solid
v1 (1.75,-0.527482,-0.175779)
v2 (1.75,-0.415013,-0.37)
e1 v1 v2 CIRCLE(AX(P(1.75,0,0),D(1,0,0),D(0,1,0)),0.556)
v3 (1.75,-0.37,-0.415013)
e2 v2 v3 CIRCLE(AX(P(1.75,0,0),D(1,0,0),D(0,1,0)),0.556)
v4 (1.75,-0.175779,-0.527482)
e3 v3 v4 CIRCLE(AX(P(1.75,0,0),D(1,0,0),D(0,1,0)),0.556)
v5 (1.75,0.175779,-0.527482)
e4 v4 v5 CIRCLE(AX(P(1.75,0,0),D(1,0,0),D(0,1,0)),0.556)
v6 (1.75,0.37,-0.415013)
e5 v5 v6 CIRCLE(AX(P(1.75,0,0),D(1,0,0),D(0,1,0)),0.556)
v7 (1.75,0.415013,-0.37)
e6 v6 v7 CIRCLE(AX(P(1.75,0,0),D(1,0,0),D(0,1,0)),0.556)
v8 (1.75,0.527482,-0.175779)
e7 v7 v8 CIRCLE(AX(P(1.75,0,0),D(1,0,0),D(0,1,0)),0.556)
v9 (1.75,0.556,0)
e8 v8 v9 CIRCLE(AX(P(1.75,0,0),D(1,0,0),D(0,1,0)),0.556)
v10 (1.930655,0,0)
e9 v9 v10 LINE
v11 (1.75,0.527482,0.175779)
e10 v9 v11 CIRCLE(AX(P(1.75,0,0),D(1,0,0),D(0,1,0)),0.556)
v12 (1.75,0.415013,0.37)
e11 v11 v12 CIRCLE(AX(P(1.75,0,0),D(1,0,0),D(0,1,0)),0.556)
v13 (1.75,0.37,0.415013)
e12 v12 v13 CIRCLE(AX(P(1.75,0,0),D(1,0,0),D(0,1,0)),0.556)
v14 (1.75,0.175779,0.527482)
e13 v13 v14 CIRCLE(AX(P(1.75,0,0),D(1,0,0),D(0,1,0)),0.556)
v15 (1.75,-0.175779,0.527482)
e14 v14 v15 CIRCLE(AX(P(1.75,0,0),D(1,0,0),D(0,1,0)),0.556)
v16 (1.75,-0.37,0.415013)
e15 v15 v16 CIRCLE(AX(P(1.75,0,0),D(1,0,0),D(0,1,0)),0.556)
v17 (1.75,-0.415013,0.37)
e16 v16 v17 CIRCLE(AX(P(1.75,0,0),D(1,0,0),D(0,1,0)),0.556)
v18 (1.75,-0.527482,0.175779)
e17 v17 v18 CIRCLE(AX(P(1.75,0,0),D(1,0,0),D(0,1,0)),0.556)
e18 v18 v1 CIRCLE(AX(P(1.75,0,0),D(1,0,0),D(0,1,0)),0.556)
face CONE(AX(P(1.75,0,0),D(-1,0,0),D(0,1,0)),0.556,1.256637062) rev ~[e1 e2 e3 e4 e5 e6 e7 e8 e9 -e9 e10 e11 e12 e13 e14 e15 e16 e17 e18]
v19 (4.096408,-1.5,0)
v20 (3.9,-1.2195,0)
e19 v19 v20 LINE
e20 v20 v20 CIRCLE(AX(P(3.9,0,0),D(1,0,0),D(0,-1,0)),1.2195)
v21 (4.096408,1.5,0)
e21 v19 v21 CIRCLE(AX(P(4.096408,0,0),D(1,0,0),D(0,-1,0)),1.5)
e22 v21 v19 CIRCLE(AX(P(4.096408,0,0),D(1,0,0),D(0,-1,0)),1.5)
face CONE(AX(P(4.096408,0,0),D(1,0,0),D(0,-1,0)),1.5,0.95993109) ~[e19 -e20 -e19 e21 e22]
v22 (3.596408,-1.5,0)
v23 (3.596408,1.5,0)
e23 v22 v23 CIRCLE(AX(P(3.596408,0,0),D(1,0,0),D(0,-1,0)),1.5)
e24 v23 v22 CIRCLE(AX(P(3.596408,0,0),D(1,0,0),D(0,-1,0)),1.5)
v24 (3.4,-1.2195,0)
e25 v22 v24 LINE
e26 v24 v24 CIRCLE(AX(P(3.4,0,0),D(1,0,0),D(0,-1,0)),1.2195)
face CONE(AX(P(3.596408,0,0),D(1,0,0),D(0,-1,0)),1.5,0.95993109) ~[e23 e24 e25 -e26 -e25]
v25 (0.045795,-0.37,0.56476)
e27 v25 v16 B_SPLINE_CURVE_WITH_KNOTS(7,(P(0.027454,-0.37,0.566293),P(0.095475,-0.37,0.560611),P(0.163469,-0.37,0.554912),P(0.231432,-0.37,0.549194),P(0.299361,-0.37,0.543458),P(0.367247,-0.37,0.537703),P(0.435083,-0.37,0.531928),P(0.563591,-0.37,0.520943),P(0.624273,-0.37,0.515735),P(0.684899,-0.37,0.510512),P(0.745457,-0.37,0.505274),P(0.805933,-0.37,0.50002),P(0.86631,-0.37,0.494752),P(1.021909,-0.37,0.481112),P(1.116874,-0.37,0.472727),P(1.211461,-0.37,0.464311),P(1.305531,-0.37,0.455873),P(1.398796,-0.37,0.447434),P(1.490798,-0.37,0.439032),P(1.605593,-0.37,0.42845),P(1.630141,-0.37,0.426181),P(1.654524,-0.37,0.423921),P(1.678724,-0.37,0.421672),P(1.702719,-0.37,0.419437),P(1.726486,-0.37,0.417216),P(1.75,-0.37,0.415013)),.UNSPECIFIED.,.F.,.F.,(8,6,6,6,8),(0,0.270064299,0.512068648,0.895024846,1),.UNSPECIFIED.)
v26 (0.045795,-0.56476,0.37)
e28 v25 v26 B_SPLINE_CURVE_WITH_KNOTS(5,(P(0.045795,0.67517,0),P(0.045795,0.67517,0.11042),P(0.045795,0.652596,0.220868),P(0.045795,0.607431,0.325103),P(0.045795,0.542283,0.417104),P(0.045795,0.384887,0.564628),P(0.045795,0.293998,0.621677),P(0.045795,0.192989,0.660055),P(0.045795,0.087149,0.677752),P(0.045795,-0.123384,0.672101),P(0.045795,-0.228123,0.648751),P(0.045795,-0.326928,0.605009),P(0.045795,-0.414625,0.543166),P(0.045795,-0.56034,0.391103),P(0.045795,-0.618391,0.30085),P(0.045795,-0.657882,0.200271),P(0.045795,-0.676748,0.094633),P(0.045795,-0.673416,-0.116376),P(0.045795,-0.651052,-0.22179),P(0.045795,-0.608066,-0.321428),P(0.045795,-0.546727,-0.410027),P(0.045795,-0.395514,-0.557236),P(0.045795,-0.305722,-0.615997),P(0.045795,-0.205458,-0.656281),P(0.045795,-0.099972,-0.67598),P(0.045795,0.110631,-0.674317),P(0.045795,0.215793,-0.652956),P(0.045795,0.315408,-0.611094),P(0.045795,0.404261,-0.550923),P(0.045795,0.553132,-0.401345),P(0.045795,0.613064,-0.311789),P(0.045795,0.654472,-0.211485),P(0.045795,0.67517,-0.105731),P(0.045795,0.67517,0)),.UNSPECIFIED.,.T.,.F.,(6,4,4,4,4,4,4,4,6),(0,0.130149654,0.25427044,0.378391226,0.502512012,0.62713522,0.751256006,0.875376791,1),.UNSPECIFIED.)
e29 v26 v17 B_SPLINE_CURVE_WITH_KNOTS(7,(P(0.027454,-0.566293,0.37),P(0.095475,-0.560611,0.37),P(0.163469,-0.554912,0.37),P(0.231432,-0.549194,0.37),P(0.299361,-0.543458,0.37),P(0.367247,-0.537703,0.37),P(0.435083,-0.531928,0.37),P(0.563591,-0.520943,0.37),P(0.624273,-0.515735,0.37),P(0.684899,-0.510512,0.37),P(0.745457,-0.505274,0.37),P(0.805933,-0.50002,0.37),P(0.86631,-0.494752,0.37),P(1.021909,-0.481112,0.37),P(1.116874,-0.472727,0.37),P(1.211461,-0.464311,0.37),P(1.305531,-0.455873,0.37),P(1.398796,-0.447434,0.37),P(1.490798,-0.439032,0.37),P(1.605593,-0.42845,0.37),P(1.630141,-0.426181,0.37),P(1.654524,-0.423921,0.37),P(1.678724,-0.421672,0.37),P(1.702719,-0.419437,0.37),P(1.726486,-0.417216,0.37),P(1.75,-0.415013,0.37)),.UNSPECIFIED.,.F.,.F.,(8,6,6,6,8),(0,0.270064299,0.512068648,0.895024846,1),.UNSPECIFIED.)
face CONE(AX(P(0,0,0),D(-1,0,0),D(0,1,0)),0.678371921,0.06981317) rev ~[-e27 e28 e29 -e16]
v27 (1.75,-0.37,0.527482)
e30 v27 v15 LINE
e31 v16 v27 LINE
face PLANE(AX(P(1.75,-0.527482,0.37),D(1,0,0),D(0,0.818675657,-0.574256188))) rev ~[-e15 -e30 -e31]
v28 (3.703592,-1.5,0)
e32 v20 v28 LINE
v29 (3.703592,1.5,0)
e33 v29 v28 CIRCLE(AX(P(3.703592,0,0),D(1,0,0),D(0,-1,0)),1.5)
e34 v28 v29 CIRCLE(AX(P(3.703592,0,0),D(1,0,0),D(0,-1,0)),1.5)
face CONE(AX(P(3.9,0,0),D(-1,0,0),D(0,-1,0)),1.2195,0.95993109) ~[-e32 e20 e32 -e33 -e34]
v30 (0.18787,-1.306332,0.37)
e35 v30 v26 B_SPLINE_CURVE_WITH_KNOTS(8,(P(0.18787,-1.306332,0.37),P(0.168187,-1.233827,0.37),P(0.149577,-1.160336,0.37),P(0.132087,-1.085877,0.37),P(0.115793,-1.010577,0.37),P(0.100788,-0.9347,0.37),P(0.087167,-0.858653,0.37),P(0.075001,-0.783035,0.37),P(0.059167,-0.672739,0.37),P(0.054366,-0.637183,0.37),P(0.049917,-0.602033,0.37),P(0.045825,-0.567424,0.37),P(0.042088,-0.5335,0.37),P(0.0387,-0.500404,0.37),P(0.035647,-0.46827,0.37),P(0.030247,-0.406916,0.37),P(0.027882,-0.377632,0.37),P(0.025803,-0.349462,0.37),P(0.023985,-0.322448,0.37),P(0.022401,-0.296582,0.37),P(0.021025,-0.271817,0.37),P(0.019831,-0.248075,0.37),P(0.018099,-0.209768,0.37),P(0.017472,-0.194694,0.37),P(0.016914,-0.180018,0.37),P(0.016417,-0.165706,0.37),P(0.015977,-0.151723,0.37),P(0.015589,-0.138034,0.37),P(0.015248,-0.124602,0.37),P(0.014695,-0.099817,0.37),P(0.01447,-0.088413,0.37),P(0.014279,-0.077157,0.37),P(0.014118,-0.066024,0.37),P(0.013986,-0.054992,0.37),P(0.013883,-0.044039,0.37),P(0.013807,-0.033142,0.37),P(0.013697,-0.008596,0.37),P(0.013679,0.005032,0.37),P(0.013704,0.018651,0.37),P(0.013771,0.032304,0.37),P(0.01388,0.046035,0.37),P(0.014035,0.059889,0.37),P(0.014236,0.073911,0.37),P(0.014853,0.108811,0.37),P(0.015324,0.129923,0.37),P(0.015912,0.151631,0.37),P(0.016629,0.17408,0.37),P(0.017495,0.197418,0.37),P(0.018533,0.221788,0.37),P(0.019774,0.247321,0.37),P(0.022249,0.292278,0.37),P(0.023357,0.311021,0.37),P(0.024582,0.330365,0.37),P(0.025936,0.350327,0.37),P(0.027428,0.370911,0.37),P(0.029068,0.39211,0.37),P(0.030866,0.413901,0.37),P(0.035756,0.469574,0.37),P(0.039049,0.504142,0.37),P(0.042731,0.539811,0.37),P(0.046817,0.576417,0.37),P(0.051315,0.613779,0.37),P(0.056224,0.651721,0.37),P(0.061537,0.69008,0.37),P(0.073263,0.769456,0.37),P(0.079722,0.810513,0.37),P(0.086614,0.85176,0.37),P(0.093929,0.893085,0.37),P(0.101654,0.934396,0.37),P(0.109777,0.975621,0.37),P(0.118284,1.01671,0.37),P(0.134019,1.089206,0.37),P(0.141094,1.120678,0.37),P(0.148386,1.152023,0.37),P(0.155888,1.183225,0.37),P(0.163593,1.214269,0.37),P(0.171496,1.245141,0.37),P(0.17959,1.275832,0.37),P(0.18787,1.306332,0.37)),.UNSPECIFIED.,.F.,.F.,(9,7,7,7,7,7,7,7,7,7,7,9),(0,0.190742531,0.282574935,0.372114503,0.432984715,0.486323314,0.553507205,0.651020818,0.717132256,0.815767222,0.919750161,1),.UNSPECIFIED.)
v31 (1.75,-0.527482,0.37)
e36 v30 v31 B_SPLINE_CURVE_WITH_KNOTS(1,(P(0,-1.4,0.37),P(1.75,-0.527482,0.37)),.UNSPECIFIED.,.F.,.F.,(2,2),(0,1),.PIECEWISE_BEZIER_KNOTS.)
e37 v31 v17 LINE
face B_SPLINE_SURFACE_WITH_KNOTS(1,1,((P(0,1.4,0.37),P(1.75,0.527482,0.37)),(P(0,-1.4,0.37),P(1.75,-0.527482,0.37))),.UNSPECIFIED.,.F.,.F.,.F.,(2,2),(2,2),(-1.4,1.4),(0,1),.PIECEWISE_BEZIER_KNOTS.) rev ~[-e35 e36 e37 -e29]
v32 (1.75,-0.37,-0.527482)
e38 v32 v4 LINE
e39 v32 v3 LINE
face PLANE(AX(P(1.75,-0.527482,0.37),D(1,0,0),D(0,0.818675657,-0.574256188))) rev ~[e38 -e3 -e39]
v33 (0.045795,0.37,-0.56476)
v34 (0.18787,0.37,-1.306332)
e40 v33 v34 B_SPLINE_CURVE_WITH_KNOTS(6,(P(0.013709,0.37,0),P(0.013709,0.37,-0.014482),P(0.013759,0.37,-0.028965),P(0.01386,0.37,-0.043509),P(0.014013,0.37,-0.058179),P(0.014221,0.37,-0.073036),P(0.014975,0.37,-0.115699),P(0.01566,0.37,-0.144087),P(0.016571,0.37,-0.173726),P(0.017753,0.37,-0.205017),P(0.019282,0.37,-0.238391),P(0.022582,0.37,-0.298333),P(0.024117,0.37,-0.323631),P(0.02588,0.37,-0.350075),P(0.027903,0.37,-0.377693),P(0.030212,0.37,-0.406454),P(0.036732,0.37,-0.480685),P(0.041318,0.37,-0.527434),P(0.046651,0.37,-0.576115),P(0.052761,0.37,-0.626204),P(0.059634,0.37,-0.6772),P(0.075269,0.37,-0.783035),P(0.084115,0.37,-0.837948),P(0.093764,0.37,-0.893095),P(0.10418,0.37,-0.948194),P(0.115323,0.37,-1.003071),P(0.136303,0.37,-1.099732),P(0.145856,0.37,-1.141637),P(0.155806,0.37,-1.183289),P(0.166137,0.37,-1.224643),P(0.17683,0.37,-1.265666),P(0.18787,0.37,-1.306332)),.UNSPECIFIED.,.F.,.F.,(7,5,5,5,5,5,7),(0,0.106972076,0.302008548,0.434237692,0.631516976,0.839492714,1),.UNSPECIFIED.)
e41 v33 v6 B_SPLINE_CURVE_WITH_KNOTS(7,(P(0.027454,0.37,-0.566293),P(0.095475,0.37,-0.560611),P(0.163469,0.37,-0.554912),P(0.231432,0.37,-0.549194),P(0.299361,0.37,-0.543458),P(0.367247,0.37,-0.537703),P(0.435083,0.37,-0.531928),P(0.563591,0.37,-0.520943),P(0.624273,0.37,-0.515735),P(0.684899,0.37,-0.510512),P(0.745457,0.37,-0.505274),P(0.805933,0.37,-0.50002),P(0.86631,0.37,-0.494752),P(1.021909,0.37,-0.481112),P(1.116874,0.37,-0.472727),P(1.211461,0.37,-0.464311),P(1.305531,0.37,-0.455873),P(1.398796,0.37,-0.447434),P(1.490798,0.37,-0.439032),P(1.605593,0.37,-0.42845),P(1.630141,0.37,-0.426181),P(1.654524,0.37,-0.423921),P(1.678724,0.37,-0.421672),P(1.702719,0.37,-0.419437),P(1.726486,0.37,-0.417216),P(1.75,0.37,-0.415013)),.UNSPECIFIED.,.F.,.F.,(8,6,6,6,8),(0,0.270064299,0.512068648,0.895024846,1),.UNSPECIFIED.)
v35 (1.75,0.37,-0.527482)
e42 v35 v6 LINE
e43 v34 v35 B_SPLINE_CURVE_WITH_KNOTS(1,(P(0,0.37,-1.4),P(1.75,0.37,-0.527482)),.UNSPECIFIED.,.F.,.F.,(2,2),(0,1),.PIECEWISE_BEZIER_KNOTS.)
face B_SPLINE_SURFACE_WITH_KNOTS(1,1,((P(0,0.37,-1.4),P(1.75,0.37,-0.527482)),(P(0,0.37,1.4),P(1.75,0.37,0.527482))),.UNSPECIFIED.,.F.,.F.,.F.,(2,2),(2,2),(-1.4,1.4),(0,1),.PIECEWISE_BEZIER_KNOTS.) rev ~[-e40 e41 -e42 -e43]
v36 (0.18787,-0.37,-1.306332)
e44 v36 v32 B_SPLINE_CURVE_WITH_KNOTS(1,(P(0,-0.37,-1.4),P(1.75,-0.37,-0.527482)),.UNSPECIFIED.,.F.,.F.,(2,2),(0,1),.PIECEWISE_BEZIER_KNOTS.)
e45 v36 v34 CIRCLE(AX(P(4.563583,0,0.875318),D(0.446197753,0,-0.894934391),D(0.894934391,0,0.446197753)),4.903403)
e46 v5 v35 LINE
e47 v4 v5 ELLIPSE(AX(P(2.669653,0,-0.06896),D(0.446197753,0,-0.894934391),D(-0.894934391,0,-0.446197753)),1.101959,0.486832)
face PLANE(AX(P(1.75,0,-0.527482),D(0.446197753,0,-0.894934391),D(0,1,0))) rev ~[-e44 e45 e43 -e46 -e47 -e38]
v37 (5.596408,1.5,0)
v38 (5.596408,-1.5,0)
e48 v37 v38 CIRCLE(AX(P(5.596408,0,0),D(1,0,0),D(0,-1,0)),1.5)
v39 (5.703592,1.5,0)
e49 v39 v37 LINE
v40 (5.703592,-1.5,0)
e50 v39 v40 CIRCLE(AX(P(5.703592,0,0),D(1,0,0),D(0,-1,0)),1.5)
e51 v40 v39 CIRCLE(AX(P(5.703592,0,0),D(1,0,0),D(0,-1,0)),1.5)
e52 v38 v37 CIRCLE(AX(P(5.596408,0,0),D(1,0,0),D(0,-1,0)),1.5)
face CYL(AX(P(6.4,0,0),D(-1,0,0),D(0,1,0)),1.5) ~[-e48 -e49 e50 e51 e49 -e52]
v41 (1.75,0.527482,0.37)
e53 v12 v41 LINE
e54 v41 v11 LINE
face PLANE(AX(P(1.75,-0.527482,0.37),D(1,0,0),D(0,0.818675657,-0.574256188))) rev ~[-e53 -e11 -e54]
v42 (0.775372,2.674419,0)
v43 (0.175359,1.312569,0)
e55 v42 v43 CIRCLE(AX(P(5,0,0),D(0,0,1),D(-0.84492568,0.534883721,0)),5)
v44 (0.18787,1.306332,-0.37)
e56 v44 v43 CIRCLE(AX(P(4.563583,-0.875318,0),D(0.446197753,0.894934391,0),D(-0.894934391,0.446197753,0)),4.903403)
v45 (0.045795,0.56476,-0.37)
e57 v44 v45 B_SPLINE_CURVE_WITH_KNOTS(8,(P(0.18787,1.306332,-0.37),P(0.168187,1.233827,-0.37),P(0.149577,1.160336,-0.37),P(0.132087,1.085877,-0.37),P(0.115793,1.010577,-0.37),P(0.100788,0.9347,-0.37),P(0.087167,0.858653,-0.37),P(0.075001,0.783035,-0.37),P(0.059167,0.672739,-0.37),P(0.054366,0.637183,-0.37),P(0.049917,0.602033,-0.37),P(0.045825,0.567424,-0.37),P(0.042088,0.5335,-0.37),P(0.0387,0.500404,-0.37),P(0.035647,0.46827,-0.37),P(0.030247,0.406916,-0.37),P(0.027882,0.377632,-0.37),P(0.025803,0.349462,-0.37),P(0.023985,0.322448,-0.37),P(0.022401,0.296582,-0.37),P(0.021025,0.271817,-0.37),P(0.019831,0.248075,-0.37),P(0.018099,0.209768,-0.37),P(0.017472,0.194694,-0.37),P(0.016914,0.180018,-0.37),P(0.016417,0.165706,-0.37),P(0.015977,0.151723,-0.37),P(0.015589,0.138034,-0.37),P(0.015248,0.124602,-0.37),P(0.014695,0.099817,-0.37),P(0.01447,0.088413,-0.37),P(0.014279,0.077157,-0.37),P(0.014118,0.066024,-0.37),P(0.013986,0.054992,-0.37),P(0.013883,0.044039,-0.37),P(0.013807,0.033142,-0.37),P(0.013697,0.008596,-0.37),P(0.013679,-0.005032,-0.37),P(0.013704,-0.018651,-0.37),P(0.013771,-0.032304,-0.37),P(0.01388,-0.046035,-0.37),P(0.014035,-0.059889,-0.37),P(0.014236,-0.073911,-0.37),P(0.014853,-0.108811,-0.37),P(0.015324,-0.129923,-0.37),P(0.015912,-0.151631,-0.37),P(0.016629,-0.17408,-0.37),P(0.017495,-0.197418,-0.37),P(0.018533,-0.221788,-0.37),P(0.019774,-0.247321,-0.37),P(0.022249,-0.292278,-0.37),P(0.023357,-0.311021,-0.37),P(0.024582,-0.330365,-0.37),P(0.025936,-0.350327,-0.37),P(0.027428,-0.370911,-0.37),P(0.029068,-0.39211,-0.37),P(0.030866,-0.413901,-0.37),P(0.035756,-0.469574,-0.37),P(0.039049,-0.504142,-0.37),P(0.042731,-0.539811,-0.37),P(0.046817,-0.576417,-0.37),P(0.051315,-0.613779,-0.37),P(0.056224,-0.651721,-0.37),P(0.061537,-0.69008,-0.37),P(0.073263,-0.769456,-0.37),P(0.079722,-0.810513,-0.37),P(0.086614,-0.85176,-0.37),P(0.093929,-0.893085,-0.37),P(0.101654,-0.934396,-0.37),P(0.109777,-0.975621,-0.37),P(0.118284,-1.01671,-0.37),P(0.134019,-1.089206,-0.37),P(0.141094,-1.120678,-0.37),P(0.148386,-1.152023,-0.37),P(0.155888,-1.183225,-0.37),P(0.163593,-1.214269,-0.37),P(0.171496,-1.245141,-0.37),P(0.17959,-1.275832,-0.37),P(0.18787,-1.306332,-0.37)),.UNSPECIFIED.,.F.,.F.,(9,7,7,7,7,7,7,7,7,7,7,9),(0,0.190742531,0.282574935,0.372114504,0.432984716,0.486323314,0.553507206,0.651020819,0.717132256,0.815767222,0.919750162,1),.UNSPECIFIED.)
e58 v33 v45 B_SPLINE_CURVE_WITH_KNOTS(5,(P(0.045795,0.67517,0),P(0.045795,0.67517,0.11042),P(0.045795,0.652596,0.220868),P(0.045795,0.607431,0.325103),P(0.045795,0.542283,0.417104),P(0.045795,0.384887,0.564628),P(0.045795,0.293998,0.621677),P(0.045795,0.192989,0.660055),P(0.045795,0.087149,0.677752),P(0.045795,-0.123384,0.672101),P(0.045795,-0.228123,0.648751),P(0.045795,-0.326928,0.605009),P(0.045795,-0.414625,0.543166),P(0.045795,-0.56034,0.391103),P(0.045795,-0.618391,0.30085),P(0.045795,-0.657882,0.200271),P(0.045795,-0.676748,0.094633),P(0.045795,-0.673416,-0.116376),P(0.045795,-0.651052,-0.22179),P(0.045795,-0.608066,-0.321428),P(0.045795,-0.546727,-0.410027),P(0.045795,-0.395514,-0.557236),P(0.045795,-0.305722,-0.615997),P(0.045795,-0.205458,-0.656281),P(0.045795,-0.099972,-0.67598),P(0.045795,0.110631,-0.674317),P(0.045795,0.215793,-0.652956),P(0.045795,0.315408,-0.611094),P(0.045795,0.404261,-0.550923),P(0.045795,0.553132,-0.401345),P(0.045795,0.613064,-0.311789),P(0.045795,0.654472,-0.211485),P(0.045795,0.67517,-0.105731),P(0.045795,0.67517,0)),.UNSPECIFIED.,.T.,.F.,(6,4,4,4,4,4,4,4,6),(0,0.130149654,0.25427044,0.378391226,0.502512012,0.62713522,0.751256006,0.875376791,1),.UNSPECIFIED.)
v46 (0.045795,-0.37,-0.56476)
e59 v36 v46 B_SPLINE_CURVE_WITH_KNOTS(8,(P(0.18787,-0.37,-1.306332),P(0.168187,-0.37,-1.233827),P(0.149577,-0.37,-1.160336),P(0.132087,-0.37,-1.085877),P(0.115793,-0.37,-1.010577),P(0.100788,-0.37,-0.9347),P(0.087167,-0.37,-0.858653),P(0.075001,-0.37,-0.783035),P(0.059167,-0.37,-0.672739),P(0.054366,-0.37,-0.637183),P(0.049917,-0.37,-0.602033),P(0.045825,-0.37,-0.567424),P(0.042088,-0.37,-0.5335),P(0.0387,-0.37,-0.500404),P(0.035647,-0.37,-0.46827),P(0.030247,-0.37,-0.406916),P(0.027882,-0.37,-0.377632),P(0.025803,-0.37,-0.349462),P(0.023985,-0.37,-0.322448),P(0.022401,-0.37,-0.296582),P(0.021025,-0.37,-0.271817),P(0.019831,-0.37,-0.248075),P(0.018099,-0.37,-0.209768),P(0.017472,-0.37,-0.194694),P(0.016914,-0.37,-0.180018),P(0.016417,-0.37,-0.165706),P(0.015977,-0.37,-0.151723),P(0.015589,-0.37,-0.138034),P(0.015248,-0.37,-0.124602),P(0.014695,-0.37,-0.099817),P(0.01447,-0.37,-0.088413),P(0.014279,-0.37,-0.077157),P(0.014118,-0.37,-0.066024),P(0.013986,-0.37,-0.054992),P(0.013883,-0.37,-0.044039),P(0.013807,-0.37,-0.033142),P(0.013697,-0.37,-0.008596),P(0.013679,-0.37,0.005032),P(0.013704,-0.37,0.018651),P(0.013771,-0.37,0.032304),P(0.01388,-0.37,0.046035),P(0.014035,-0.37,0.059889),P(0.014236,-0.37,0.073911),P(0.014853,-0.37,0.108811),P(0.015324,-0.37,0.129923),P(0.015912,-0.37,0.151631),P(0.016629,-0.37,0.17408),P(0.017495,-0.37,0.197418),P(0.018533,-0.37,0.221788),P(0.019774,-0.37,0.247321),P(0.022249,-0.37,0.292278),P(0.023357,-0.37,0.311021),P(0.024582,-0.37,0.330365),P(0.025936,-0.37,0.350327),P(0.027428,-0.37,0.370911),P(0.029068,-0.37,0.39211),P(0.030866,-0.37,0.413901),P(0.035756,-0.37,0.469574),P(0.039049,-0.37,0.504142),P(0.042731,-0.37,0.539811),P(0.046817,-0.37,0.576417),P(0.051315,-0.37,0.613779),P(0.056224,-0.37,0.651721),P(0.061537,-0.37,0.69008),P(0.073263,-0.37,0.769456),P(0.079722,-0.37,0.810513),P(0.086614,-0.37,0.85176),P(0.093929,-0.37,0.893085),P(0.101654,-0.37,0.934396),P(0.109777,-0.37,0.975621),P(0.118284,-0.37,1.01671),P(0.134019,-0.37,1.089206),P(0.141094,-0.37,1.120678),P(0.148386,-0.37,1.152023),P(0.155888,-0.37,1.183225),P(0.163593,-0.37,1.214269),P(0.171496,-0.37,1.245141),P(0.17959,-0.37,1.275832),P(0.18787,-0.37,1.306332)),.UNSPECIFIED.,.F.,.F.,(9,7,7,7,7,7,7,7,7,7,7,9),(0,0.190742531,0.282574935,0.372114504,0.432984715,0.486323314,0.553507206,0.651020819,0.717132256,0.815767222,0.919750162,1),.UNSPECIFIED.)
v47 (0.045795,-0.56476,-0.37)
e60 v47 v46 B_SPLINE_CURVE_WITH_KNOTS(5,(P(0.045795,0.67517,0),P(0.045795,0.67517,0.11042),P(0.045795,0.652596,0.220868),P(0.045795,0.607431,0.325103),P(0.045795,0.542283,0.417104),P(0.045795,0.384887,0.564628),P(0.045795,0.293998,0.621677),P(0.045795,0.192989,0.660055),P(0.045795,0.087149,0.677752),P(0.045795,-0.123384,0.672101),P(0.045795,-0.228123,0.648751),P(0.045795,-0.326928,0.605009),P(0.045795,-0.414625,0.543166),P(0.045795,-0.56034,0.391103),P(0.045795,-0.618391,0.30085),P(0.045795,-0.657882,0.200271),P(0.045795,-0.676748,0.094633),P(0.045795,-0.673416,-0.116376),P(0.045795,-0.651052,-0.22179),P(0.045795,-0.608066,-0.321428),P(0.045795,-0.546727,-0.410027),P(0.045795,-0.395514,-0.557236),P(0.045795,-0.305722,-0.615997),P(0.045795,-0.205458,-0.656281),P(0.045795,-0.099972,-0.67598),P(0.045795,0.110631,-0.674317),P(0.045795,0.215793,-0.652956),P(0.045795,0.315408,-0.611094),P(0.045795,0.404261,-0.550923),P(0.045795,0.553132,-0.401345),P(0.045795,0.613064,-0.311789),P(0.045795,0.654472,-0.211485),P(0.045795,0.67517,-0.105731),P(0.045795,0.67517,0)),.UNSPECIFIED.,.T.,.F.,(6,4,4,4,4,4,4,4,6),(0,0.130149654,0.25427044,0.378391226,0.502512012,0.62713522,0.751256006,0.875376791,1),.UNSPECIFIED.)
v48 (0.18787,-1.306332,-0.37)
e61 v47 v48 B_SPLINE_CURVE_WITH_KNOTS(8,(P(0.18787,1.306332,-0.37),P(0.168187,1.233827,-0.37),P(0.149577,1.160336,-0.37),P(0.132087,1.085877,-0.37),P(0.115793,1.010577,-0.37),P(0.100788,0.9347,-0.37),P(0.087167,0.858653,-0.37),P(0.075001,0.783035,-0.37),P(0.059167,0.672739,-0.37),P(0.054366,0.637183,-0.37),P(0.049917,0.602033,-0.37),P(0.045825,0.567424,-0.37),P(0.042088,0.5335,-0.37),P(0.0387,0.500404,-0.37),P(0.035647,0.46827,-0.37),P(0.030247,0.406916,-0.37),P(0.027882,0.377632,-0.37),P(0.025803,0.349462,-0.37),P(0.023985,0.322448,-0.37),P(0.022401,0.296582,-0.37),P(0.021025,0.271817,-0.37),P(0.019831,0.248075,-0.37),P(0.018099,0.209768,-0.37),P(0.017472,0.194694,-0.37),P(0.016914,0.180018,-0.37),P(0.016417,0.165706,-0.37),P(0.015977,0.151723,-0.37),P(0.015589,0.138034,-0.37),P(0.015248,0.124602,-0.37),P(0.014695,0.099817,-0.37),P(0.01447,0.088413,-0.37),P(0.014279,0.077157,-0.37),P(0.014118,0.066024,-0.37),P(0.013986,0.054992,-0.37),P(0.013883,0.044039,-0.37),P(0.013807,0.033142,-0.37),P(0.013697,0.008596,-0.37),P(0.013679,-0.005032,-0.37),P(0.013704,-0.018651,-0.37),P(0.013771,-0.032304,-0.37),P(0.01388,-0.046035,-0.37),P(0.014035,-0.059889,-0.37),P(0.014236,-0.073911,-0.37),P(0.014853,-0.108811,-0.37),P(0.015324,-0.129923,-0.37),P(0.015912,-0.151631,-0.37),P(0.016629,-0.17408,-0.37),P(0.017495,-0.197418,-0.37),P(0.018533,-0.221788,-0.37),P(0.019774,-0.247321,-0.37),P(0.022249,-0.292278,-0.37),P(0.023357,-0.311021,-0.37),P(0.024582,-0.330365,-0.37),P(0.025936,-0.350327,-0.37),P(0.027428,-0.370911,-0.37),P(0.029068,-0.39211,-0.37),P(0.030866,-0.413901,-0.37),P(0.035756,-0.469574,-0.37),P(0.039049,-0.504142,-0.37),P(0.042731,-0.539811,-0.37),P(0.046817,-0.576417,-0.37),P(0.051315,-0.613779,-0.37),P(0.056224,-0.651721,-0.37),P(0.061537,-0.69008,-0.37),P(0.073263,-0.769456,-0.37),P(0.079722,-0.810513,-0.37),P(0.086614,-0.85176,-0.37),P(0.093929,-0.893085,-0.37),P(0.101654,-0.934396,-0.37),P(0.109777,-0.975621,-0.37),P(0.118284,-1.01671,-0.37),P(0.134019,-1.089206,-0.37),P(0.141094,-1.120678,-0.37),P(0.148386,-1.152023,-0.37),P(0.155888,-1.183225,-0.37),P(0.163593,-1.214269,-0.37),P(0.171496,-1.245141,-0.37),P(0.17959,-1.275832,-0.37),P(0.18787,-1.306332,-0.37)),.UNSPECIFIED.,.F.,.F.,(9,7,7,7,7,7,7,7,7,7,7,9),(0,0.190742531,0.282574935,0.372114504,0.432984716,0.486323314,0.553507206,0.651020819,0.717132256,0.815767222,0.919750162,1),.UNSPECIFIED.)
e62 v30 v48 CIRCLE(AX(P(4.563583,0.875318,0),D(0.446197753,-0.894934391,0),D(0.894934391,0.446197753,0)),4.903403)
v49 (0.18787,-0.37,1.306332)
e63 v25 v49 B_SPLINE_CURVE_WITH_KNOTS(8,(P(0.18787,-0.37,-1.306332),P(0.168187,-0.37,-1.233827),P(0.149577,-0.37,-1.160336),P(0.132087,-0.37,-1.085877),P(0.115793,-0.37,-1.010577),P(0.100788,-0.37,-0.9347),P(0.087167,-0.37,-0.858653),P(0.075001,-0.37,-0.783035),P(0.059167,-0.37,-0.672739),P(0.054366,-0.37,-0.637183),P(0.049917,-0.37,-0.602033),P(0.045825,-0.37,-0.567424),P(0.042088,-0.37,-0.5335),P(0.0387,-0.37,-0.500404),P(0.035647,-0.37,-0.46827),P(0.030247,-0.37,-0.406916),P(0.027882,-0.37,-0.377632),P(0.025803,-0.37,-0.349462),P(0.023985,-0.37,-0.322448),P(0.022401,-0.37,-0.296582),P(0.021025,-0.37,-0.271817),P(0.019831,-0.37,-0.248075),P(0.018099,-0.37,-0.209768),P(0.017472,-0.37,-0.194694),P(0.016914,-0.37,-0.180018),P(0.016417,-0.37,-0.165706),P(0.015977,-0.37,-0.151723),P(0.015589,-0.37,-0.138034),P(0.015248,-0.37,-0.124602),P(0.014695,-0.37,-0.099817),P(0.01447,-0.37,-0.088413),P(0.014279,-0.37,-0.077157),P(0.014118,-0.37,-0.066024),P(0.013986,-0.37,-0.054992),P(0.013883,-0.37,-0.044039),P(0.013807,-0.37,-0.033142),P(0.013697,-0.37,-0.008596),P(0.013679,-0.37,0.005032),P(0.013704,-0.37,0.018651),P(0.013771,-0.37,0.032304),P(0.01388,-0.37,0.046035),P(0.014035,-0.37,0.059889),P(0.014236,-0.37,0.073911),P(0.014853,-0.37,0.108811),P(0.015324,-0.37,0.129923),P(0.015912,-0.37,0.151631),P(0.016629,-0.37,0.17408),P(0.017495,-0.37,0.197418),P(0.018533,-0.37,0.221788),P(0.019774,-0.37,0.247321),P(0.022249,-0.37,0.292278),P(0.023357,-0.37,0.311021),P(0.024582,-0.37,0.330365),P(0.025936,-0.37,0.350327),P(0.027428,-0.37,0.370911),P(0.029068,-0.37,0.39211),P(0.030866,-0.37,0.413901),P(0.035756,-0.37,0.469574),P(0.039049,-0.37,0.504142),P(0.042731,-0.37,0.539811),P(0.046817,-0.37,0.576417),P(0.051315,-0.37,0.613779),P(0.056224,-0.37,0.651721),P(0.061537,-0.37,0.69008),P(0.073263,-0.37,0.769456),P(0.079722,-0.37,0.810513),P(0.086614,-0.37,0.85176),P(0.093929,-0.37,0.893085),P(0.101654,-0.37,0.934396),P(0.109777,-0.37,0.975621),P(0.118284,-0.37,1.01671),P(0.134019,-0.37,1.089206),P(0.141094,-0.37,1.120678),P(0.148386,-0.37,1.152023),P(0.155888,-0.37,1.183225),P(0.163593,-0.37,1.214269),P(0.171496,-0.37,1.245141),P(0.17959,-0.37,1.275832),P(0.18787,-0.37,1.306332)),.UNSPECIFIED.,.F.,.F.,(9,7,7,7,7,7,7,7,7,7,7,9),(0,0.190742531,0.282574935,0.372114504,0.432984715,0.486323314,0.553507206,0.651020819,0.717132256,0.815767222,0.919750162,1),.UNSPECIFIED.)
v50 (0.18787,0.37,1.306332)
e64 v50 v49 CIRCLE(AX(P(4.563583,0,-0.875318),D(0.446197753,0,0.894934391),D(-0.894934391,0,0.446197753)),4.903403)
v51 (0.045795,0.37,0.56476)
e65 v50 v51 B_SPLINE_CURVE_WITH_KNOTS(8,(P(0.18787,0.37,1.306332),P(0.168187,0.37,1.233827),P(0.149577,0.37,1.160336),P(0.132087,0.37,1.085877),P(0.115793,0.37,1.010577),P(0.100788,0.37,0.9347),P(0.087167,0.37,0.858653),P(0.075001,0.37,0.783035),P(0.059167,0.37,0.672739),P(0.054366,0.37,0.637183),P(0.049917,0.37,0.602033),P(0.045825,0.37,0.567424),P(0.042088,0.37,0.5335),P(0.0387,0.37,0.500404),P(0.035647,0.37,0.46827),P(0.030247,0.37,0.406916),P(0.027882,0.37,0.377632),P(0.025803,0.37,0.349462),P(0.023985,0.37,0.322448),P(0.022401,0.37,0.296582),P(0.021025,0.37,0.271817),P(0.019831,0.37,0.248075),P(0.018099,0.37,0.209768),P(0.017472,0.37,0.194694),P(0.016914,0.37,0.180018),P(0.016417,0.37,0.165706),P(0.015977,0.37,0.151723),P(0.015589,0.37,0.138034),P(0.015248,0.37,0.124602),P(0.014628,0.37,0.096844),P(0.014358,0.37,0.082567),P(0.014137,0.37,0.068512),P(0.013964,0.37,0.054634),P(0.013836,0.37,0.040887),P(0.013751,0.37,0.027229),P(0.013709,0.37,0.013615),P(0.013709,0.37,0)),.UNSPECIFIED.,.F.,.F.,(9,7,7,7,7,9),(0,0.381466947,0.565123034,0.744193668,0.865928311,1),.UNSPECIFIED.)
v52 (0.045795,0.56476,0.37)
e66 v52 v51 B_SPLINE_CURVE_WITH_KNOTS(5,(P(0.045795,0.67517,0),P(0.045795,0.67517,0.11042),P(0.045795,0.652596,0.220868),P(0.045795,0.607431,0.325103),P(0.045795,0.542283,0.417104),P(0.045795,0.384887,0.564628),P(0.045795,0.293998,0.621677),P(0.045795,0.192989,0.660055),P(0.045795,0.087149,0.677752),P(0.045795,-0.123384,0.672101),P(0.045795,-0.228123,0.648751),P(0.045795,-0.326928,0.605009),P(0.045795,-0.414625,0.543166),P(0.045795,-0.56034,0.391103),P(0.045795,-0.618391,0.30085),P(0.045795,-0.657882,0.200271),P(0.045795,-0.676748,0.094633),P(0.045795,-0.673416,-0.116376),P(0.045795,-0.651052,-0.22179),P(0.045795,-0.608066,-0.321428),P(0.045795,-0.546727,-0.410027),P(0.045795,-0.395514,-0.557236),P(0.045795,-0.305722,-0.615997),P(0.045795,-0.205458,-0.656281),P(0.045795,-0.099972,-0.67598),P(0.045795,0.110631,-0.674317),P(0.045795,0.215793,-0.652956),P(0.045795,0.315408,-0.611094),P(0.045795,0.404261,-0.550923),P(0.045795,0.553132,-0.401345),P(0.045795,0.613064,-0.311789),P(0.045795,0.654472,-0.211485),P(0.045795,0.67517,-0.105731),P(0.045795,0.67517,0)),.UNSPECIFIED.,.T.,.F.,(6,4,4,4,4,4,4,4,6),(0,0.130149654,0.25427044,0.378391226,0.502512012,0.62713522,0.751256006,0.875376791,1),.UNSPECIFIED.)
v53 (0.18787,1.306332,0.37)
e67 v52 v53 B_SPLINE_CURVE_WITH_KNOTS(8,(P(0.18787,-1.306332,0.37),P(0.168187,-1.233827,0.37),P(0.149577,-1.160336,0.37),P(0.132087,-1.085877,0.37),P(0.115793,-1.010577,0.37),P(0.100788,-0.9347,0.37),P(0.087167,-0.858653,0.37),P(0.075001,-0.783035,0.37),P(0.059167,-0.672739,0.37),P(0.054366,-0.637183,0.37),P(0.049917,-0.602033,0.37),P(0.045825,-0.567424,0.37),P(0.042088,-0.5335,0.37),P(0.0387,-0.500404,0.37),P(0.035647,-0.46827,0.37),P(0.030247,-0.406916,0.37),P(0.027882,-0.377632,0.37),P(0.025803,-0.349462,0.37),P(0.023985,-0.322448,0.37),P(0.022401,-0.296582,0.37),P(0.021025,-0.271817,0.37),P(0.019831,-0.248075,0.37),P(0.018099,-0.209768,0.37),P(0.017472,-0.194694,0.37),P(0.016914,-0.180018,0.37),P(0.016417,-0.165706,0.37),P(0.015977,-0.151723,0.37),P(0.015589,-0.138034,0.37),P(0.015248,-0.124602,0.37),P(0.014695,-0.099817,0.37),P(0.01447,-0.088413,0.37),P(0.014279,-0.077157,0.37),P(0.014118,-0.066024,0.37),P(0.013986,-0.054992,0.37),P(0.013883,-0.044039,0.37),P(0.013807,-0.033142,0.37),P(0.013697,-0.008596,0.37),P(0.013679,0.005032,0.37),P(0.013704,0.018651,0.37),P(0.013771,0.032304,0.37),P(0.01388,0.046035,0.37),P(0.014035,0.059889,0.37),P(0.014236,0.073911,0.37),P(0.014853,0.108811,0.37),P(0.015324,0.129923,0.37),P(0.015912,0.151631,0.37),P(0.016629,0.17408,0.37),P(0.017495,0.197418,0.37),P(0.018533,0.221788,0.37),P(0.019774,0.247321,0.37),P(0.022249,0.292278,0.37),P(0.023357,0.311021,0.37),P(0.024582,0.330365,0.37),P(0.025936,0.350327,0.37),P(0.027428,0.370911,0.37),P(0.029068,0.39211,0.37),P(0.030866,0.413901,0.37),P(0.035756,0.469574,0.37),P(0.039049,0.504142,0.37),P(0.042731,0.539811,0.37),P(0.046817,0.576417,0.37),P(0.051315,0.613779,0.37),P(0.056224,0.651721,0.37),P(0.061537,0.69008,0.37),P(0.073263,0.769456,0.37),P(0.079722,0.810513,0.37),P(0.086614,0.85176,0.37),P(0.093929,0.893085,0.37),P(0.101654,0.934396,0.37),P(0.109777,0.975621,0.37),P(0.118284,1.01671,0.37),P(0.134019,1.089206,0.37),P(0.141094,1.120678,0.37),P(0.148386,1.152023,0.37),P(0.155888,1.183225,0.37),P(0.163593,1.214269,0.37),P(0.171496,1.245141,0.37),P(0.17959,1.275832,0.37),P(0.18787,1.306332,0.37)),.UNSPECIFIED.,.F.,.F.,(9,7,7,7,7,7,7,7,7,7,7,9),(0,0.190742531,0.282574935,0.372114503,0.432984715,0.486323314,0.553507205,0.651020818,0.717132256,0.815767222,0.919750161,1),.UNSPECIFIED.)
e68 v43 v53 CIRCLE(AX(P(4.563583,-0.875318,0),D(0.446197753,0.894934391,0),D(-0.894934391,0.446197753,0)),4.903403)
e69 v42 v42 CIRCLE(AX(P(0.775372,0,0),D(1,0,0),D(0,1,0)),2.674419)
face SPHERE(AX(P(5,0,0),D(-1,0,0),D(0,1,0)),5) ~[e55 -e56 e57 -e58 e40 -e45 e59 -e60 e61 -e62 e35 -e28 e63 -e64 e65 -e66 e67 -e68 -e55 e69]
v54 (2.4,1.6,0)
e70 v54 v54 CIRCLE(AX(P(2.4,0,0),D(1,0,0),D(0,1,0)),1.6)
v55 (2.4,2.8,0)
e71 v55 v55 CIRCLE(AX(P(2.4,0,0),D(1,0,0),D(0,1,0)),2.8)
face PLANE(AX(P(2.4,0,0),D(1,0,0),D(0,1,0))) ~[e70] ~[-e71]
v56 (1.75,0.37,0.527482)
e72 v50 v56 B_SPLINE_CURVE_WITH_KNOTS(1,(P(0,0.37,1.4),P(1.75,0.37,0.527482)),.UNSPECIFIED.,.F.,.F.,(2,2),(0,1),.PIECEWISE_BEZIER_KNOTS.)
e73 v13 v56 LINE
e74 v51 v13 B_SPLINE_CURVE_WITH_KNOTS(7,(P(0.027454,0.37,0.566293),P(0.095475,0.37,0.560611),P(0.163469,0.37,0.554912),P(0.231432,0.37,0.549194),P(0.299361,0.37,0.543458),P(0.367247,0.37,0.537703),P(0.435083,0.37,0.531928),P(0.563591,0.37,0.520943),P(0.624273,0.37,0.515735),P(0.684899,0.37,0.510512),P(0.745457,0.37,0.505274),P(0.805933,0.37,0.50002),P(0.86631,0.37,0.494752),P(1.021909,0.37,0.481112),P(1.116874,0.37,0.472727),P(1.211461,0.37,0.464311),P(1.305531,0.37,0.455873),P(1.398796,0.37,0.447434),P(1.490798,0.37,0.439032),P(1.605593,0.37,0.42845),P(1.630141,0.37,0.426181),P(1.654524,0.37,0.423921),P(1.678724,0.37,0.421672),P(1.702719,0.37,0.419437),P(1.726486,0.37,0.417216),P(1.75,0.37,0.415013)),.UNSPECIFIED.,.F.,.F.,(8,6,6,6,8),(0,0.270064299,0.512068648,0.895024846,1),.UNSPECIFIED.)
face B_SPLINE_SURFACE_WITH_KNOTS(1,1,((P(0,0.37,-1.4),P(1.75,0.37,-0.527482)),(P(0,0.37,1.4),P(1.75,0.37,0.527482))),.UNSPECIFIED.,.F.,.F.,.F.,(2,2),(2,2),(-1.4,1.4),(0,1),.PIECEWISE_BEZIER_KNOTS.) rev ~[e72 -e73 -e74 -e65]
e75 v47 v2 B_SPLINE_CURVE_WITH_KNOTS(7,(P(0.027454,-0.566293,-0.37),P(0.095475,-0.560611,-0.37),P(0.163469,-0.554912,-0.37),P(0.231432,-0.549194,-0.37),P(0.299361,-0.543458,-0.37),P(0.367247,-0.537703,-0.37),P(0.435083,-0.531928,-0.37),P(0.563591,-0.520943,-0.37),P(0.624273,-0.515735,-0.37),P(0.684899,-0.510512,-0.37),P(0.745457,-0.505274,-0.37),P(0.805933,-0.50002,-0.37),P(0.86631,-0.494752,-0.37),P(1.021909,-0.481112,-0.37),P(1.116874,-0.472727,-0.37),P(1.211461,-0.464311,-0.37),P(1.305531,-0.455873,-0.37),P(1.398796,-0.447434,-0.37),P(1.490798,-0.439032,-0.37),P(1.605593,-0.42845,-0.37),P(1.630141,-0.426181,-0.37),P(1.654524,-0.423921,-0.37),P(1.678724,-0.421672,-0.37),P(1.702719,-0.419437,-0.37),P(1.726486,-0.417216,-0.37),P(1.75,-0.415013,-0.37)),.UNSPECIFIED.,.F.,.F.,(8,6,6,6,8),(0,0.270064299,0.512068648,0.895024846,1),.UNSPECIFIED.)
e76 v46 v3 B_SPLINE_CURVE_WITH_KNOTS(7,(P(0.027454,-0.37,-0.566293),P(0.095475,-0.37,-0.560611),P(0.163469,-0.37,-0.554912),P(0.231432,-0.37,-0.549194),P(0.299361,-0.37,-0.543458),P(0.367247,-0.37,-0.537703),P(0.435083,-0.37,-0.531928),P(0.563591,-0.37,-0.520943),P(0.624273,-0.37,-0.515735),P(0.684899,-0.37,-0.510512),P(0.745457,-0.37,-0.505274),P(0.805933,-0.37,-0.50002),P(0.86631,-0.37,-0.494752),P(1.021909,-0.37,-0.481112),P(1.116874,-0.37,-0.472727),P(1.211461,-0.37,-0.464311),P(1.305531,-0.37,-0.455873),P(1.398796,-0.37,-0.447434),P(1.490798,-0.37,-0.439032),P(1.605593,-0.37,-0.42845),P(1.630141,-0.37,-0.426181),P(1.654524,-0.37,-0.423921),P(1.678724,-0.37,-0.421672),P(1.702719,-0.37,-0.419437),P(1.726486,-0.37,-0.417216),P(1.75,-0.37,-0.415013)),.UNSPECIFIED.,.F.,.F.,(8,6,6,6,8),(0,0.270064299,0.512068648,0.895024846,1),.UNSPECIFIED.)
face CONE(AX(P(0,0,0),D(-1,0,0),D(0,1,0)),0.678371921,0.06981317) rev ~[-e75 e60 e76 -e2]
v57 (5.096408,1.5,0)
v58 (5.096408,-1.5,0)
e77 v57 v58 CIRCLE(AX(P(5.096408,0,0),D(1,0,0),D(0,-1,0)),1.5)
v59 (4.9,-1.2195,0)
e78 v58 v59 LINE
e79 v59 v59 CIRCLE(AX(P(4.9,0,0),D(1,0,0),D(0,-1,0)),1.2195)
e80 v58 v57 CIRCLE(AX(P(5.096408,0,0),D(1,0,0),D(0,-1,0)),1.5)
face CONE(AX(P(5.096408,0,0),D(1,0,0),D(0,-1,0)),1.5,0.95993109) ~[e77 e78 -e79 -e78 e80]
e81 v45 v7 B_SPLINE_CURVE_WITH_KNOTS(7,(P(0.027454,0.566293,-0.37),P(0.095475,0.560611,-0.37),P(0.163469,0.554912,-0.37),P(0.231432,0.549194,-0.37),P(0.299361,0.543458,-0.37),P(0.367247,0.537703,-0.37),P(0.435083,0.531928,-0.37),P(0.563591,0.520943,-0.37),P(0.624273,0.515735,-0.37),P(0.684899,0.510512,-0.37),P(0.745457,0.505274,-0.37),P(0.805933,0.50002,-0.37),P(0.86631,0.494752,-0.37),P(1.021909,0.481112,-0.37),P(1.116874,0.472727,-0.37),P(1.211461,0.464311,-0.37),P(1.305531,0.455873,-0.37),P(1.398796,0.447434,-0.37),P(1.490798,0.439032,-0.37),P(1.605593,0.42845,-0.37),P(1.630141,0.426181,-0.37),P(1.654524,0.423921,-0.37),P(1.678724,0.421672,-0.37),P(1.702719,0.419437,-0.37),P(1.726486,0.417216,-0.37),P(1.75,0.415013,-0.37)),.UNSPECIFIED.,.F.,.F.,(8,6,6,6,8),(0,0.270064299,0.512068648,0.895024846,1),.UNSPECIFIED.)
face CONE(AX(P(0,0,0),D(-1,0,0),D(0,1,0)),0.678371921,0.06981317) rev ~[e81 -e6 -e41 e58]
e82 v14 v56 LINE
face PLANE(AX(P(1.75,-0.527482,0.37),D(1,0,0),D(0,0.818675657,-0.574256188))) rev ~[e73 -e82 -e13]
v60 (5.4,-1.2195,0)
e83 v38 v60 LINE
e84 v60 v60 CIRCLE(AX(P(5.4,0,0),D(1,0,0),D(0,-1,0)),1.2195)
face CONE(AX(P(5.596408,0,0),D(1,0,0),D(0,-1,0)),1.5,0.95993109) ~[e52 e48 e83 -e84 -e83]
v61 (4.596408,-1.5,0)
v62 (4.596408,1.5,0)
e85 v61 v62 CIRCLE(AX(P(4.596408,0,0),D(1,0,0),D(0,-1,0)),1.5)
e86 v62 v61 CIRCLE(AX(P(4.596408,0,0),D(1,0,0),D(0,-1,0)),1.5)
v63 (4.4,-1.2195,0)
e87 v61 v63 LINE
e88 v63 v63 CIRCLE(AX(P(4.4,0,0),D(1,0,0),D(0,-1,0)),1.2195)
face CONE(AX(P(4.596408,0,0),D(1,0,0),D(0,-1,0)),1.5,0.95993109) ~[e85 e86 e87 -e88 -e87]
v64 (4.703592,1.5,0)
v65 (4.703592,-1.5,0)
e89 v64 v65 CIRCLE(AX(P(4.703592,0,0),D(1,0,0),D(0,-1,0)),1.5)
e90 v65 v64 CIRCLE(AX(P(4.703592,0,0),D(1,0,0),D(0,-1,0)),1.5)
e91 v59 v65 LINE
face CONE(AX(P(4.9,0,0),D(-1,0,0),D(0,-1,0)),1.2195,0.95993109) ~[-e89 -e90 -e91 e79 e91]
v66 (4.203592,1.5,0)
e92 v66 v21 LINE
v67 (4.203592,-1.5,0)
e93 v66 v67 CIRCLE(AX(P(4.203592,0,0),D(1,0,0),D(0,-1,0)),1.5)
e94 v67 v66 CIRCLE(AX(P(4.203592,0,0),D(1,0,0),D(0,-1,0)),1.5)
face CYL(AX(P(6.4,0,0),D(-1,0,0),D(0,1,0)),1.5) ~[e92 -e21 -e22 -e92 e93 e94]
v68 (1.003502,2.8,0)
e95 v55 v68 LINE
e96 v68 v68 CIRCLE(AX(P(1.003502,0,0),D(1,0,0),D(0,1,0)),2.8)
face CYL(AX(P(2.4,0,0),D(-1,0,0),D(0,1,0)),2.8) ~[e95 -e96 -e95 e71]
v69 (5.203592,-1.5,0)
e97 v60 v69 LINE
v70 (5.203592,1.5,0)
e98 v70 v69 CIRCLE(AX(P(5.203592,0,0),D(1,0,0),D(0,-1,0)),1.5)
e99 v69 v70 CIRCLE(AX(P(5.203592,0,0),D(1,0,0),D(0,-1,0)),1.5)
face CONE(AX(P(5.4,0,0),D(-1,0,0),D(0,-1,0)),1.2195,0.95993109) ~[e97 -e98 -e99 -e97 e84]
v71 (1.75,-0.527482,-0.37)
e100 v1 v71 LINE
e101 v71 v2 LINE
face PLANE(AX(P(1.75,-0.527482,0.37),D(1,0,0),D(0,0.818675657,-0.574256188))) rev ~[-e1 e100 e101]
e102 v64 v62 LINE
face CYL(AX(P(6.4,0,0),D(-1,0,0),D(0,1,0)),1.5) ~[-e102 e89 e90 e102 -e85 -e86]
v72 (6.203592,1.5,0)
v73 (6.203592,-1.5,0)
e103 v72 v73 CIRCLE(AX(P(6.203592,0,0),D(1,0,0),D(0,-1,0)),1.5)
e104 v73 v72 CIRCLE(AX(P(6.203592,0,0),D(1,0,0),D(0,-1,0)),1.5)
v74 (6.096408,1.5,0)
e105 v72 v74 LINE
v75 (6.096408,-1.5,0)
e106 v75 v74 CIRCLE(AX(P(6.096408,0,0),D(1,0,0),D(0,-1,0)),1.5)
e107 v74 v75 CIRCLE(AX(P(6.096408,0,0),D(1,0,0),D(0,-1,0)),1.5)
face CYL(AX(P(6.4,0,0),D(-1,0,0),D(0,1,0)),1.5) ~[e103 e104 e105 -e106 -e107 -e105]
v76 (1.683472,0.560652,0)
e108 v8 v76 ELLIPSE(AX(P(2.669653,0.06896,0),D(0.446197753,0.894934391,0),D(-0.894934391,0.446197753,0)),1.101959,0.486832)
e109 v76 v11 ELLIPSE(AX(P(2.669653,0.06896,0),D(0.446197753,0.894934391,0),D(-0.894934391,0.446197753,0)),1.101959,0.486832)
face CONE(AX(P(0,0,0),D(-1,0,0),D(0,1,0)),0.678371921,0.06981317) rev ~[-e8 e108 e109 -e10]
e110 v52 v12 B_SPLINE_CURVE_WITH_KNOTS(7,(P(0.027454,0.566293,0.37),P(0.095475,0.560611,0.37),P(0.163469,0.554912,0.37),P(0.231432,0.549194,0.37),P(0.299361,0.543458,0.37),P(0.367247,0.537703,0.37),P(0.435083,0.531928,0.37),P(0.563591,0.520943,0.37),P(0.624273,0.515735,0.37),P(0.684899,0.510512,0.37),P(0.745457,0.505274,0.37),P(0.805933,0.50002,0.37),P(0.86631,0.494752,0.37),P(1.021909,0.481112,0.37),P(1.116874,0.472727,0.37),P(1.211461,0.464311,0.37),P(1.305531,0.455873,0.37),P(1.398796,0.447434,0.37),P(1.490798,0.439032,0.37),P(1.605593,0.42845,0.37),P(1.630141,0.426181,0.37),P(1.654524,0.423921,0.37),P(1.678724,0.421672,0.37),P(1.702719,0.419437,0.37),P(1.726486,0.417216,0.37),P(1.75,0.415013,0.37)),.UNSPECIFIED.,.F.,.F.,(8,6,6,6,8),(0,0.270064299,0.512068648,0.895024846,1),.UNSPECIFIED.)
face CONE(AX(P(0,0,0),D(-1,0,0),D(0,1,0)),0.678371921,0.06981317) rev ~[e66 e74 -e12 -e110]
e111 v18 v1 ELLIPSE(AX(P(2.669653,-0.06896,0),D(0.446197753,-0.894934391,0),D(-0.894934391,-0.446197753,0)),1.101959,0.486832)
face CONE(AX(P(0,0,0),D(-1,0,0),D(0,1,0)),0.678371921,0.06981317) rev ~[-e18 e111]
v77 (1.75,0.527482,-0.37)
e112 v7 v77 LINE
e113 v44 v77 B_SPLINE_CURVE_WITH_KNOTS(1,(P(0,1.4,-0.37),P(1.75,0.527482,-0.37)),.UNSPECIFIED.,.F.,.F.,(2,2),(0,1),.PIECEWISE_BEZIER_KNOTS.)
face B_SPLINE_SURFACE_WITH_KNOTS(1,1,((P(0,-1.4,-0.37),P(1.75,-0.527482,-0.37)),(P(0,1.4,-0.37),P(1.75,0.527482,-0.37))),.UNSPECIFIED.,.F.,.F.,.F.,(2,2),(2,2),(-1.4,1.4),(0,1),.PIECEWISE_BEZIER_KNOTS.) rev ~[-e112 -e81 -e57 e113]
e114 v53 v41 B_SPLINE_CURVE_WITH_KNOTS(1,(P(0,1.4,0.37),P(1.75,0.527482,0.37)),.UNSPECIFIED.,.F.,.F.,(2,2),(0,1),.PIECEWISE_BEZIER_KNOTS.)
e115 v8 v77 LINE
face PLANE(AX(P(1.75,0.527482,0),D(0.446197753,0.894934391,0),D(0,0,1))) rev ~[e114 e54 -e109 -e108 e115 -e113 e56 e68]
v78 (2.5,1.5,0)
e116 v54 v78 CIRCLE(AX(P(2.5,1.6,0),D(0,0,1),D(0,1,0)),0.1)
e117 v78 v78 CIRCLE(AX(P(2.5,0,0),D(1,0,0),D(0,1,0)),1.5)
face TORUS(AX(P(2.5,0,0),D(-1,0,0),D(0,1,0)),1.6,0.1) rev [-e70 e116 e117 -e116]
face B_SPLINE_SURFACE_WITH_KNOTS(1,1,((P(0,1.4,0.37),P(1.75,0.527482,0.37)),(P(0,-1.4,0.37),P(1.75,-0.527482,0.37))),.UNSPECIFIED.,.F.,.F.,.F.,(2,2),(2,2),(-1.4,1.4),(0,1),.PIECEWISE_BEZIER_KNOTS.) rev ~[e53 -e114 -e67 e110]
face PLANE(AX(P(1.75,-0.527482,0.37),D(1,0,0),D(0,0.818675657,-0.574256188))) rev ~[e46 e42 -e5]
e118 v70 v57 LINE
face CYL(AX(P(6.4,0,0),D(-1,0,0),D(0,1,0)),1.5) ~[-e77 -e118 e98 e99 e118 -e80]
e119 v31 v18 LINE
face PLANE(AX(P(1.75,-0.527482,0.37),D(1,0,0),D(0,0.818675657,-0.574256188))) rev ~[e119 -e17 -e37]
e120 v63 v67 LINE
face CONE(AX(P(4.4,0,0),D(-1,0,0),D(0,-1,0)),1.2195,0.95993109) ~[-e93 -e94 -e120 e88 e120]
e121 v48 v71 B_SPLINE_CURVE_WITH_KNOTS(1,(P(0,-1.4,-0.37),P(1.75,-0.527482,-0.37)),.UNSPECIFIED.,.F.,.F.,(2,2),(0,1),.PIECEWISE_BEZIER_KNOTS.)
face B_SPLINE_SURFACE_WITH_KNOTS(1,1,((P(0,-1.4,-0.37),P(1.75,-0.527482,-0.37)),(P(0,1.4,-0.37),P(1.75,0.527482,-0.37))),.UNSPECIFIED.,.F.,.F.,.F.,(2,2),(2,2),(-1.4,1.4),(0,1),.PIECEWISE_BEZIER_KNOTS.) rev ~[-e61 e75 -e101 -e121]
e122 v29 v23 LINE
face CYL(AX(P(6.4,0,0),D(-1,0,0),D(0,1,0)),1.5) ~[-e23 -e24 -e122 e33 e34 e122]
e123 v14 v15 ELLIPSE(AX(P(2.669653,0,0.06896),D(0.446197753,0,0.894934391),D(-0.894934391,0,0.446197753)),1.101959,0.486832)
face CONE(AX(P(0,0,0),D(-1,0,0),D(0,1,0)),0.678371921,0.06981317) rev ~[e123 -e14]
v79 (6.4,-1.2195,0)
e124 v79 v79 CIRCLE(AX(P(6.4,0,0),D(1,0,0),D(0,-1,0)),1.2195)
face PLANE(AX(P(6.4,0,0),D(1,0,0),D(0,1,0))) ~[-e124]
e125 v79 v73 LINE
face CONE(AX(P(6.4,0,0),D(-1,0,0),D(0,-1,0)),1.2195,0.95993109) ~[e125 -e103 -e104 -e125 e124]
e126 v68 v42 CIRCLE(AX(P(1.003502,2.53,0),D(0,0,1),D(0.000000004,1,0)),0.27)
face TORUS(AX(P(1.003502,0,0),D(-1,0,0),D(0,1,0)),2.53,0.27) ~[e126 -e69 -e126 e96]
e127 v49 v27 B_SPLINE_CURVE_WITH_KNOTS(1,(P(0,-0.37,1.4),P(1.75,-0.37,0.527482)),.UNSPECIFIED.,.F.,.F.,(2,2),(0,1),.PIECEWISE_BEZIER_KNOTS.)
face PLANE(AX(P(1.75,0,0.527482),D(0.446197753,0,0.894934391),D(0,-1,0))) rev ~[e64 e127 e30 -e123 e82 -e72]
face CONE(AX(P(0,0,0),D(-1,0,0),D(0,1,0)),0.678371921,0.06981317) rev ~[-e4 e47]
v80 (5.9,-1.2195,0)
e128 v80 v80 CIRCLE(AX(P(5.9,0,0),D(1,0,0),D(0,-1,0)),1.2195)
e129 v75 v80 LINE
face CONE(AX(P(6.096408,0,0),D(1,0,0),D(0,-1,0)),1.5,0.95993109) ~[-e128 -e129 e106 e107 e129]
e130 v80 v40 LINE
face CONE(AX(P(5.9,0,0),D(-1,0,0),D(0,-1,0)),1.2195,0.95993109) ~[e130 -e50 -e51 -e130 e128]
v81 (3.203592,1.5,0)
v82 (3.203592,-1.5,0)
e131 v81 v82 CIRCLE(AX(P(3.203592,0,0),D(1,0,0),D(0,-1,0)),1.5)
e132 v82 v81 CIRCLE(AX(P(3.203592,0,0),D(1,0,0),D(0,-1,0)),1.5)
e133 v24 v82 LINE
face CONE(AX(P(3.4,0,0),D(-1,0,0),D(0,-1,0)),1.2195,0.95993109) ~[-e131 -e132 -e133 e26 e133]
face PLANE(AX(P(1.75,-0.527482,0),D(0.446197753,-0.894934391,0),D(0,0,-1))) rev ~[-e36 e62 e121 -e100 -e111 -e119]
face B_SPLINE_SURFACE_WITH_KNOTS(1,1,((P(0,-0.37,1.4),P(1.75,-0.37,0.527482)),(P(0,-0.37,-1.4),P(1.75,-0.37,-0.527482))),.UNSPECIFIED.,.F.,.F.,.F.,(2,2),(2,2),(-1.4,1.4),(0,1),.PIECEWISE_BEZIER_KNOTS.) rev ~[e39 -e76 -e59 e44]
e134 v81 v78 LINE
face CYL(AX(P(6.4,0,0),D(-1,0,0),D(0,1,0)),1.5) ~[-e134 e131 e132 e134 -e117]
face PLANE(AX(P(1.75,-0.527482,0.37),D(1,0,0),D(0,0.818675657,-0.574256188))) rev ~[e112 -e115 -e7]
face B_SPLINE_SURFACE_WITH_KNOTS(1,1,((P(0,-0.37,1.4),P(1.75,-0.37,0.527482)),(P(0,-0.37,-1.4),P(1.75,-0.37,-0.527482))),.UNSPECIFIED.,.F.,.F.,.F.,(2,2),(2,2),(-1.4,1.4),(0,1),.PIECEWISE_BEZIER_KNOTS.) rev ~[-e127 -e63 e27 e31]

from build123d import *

# Parameters (mm, degrees)
FILLET1_R       = 0.1
SKETCH3_W       = 0.74
SKETCH3_H       = 2.8
SKETCH4_W       = 0.74
SKETCH4_H       = 1.054964664
RECPAT_COUNT    = 2
RECPAT_ANGLE    = 90
THDSCHPAT_COUNT = 7
THDSCHPAT_PITCH = 0.5


with BuildPart() as part:
    # BodySke → Base-Revolve (revolve)
    with BuildSketch(Plane.XY):
        with BuildLine():
            Line((2.4, 1.5), (2.4, 2.8))
            Line((2.4, 2.8), (1.003501533, 2.8))
            ThreePointArc((1.003501533, 2.8), (0.873295971, 2.76653015), (0.775371599, 2.674418605))
            ThreePointArc((0.775371599, 2.674418605), (0.197753546, 1.392274756), (0, 0))
            Line((0, 0), (6.4, 0))
            Line((6.4, 0), (6.4, 1.5))
            Line((6.4, 1.5), (2.4, 1.5))
        make_face()
    revolve(axis=Axis((-25.4, 0, 0), (1, 0, 0)))

    # Fillet1
    fillet1_edges = [part.edges().sort_by_distance(p)[0] for p in [
        (2.4, -1.5, 0),
    ]]
    fillet(fillet1_edges, radius=FILLET1_R)

    # Sketch3 → Recess section 0
    with BuildSketch(Plane(origin=(0, 0, 0), x_dir=(0, 0, -1), z_dir=(1, 0, 0))):
        Rectangle(SKETCH3_W, SKETCH3_H)
    # Sketch4 → Recess section 1
    with BuildSketch(Plane(origin=(1.75, 0, 0), x_dir=(0, 0, -1), z_dir=(1, 0, 0))):
        Rectangle(SKETCH4_W, SKETCH4_H)
    recess = loft(mode=Mode.SUBTRACT)

    # RecPat: Recess ×2 about axis
    recpat_axis = Axis((0, 0, 0), (1, 0, 0))
    for i in range(1, RECPAT_COUNT):
        add(recess.rotate(recpat_axis, i * RECPAT_ANGLE / (RECPAT_COUNT - 1)), mode=Mode.SUBTRACT)

    # RecCorSke → RecessCore (revolve, cut)
    with BuildSketch(Plane.XY):
        Polygon((0, 0), (0, 0.678371921), (1.75, 0.556), (1.930655351, 0), align=None)
    revolve(axis=Axis((-3.175, 0, 0), (1, 0, 0)), mode=Mode.SUBTRACT)

    # ThdSchSke → ThreadSchematic (revolve, cut)
    with BuildSketch(Plane.XY):
        Polygon((3.4, -1.2195), (3.203591786, -1.5), (3.203591786, -1.875), (3.596408214, -1.875), (3.596408214, -1.5), align=None)
    threadschematic = revolve(axis=Axis((-3.175, 0, 0), (1, 0, 0)), mode=Mode.SUBTRACT)

    # ThdSchPat: ThreadSchematic ×7
    with Locations(*[(i * THDSCHPAT_PITCH, 0, 0) for i in range(1, THDSCHPAT_COUNT)]):
        add(threadschematic, mode=Mode.SUBTRACT)


solid = part.part
